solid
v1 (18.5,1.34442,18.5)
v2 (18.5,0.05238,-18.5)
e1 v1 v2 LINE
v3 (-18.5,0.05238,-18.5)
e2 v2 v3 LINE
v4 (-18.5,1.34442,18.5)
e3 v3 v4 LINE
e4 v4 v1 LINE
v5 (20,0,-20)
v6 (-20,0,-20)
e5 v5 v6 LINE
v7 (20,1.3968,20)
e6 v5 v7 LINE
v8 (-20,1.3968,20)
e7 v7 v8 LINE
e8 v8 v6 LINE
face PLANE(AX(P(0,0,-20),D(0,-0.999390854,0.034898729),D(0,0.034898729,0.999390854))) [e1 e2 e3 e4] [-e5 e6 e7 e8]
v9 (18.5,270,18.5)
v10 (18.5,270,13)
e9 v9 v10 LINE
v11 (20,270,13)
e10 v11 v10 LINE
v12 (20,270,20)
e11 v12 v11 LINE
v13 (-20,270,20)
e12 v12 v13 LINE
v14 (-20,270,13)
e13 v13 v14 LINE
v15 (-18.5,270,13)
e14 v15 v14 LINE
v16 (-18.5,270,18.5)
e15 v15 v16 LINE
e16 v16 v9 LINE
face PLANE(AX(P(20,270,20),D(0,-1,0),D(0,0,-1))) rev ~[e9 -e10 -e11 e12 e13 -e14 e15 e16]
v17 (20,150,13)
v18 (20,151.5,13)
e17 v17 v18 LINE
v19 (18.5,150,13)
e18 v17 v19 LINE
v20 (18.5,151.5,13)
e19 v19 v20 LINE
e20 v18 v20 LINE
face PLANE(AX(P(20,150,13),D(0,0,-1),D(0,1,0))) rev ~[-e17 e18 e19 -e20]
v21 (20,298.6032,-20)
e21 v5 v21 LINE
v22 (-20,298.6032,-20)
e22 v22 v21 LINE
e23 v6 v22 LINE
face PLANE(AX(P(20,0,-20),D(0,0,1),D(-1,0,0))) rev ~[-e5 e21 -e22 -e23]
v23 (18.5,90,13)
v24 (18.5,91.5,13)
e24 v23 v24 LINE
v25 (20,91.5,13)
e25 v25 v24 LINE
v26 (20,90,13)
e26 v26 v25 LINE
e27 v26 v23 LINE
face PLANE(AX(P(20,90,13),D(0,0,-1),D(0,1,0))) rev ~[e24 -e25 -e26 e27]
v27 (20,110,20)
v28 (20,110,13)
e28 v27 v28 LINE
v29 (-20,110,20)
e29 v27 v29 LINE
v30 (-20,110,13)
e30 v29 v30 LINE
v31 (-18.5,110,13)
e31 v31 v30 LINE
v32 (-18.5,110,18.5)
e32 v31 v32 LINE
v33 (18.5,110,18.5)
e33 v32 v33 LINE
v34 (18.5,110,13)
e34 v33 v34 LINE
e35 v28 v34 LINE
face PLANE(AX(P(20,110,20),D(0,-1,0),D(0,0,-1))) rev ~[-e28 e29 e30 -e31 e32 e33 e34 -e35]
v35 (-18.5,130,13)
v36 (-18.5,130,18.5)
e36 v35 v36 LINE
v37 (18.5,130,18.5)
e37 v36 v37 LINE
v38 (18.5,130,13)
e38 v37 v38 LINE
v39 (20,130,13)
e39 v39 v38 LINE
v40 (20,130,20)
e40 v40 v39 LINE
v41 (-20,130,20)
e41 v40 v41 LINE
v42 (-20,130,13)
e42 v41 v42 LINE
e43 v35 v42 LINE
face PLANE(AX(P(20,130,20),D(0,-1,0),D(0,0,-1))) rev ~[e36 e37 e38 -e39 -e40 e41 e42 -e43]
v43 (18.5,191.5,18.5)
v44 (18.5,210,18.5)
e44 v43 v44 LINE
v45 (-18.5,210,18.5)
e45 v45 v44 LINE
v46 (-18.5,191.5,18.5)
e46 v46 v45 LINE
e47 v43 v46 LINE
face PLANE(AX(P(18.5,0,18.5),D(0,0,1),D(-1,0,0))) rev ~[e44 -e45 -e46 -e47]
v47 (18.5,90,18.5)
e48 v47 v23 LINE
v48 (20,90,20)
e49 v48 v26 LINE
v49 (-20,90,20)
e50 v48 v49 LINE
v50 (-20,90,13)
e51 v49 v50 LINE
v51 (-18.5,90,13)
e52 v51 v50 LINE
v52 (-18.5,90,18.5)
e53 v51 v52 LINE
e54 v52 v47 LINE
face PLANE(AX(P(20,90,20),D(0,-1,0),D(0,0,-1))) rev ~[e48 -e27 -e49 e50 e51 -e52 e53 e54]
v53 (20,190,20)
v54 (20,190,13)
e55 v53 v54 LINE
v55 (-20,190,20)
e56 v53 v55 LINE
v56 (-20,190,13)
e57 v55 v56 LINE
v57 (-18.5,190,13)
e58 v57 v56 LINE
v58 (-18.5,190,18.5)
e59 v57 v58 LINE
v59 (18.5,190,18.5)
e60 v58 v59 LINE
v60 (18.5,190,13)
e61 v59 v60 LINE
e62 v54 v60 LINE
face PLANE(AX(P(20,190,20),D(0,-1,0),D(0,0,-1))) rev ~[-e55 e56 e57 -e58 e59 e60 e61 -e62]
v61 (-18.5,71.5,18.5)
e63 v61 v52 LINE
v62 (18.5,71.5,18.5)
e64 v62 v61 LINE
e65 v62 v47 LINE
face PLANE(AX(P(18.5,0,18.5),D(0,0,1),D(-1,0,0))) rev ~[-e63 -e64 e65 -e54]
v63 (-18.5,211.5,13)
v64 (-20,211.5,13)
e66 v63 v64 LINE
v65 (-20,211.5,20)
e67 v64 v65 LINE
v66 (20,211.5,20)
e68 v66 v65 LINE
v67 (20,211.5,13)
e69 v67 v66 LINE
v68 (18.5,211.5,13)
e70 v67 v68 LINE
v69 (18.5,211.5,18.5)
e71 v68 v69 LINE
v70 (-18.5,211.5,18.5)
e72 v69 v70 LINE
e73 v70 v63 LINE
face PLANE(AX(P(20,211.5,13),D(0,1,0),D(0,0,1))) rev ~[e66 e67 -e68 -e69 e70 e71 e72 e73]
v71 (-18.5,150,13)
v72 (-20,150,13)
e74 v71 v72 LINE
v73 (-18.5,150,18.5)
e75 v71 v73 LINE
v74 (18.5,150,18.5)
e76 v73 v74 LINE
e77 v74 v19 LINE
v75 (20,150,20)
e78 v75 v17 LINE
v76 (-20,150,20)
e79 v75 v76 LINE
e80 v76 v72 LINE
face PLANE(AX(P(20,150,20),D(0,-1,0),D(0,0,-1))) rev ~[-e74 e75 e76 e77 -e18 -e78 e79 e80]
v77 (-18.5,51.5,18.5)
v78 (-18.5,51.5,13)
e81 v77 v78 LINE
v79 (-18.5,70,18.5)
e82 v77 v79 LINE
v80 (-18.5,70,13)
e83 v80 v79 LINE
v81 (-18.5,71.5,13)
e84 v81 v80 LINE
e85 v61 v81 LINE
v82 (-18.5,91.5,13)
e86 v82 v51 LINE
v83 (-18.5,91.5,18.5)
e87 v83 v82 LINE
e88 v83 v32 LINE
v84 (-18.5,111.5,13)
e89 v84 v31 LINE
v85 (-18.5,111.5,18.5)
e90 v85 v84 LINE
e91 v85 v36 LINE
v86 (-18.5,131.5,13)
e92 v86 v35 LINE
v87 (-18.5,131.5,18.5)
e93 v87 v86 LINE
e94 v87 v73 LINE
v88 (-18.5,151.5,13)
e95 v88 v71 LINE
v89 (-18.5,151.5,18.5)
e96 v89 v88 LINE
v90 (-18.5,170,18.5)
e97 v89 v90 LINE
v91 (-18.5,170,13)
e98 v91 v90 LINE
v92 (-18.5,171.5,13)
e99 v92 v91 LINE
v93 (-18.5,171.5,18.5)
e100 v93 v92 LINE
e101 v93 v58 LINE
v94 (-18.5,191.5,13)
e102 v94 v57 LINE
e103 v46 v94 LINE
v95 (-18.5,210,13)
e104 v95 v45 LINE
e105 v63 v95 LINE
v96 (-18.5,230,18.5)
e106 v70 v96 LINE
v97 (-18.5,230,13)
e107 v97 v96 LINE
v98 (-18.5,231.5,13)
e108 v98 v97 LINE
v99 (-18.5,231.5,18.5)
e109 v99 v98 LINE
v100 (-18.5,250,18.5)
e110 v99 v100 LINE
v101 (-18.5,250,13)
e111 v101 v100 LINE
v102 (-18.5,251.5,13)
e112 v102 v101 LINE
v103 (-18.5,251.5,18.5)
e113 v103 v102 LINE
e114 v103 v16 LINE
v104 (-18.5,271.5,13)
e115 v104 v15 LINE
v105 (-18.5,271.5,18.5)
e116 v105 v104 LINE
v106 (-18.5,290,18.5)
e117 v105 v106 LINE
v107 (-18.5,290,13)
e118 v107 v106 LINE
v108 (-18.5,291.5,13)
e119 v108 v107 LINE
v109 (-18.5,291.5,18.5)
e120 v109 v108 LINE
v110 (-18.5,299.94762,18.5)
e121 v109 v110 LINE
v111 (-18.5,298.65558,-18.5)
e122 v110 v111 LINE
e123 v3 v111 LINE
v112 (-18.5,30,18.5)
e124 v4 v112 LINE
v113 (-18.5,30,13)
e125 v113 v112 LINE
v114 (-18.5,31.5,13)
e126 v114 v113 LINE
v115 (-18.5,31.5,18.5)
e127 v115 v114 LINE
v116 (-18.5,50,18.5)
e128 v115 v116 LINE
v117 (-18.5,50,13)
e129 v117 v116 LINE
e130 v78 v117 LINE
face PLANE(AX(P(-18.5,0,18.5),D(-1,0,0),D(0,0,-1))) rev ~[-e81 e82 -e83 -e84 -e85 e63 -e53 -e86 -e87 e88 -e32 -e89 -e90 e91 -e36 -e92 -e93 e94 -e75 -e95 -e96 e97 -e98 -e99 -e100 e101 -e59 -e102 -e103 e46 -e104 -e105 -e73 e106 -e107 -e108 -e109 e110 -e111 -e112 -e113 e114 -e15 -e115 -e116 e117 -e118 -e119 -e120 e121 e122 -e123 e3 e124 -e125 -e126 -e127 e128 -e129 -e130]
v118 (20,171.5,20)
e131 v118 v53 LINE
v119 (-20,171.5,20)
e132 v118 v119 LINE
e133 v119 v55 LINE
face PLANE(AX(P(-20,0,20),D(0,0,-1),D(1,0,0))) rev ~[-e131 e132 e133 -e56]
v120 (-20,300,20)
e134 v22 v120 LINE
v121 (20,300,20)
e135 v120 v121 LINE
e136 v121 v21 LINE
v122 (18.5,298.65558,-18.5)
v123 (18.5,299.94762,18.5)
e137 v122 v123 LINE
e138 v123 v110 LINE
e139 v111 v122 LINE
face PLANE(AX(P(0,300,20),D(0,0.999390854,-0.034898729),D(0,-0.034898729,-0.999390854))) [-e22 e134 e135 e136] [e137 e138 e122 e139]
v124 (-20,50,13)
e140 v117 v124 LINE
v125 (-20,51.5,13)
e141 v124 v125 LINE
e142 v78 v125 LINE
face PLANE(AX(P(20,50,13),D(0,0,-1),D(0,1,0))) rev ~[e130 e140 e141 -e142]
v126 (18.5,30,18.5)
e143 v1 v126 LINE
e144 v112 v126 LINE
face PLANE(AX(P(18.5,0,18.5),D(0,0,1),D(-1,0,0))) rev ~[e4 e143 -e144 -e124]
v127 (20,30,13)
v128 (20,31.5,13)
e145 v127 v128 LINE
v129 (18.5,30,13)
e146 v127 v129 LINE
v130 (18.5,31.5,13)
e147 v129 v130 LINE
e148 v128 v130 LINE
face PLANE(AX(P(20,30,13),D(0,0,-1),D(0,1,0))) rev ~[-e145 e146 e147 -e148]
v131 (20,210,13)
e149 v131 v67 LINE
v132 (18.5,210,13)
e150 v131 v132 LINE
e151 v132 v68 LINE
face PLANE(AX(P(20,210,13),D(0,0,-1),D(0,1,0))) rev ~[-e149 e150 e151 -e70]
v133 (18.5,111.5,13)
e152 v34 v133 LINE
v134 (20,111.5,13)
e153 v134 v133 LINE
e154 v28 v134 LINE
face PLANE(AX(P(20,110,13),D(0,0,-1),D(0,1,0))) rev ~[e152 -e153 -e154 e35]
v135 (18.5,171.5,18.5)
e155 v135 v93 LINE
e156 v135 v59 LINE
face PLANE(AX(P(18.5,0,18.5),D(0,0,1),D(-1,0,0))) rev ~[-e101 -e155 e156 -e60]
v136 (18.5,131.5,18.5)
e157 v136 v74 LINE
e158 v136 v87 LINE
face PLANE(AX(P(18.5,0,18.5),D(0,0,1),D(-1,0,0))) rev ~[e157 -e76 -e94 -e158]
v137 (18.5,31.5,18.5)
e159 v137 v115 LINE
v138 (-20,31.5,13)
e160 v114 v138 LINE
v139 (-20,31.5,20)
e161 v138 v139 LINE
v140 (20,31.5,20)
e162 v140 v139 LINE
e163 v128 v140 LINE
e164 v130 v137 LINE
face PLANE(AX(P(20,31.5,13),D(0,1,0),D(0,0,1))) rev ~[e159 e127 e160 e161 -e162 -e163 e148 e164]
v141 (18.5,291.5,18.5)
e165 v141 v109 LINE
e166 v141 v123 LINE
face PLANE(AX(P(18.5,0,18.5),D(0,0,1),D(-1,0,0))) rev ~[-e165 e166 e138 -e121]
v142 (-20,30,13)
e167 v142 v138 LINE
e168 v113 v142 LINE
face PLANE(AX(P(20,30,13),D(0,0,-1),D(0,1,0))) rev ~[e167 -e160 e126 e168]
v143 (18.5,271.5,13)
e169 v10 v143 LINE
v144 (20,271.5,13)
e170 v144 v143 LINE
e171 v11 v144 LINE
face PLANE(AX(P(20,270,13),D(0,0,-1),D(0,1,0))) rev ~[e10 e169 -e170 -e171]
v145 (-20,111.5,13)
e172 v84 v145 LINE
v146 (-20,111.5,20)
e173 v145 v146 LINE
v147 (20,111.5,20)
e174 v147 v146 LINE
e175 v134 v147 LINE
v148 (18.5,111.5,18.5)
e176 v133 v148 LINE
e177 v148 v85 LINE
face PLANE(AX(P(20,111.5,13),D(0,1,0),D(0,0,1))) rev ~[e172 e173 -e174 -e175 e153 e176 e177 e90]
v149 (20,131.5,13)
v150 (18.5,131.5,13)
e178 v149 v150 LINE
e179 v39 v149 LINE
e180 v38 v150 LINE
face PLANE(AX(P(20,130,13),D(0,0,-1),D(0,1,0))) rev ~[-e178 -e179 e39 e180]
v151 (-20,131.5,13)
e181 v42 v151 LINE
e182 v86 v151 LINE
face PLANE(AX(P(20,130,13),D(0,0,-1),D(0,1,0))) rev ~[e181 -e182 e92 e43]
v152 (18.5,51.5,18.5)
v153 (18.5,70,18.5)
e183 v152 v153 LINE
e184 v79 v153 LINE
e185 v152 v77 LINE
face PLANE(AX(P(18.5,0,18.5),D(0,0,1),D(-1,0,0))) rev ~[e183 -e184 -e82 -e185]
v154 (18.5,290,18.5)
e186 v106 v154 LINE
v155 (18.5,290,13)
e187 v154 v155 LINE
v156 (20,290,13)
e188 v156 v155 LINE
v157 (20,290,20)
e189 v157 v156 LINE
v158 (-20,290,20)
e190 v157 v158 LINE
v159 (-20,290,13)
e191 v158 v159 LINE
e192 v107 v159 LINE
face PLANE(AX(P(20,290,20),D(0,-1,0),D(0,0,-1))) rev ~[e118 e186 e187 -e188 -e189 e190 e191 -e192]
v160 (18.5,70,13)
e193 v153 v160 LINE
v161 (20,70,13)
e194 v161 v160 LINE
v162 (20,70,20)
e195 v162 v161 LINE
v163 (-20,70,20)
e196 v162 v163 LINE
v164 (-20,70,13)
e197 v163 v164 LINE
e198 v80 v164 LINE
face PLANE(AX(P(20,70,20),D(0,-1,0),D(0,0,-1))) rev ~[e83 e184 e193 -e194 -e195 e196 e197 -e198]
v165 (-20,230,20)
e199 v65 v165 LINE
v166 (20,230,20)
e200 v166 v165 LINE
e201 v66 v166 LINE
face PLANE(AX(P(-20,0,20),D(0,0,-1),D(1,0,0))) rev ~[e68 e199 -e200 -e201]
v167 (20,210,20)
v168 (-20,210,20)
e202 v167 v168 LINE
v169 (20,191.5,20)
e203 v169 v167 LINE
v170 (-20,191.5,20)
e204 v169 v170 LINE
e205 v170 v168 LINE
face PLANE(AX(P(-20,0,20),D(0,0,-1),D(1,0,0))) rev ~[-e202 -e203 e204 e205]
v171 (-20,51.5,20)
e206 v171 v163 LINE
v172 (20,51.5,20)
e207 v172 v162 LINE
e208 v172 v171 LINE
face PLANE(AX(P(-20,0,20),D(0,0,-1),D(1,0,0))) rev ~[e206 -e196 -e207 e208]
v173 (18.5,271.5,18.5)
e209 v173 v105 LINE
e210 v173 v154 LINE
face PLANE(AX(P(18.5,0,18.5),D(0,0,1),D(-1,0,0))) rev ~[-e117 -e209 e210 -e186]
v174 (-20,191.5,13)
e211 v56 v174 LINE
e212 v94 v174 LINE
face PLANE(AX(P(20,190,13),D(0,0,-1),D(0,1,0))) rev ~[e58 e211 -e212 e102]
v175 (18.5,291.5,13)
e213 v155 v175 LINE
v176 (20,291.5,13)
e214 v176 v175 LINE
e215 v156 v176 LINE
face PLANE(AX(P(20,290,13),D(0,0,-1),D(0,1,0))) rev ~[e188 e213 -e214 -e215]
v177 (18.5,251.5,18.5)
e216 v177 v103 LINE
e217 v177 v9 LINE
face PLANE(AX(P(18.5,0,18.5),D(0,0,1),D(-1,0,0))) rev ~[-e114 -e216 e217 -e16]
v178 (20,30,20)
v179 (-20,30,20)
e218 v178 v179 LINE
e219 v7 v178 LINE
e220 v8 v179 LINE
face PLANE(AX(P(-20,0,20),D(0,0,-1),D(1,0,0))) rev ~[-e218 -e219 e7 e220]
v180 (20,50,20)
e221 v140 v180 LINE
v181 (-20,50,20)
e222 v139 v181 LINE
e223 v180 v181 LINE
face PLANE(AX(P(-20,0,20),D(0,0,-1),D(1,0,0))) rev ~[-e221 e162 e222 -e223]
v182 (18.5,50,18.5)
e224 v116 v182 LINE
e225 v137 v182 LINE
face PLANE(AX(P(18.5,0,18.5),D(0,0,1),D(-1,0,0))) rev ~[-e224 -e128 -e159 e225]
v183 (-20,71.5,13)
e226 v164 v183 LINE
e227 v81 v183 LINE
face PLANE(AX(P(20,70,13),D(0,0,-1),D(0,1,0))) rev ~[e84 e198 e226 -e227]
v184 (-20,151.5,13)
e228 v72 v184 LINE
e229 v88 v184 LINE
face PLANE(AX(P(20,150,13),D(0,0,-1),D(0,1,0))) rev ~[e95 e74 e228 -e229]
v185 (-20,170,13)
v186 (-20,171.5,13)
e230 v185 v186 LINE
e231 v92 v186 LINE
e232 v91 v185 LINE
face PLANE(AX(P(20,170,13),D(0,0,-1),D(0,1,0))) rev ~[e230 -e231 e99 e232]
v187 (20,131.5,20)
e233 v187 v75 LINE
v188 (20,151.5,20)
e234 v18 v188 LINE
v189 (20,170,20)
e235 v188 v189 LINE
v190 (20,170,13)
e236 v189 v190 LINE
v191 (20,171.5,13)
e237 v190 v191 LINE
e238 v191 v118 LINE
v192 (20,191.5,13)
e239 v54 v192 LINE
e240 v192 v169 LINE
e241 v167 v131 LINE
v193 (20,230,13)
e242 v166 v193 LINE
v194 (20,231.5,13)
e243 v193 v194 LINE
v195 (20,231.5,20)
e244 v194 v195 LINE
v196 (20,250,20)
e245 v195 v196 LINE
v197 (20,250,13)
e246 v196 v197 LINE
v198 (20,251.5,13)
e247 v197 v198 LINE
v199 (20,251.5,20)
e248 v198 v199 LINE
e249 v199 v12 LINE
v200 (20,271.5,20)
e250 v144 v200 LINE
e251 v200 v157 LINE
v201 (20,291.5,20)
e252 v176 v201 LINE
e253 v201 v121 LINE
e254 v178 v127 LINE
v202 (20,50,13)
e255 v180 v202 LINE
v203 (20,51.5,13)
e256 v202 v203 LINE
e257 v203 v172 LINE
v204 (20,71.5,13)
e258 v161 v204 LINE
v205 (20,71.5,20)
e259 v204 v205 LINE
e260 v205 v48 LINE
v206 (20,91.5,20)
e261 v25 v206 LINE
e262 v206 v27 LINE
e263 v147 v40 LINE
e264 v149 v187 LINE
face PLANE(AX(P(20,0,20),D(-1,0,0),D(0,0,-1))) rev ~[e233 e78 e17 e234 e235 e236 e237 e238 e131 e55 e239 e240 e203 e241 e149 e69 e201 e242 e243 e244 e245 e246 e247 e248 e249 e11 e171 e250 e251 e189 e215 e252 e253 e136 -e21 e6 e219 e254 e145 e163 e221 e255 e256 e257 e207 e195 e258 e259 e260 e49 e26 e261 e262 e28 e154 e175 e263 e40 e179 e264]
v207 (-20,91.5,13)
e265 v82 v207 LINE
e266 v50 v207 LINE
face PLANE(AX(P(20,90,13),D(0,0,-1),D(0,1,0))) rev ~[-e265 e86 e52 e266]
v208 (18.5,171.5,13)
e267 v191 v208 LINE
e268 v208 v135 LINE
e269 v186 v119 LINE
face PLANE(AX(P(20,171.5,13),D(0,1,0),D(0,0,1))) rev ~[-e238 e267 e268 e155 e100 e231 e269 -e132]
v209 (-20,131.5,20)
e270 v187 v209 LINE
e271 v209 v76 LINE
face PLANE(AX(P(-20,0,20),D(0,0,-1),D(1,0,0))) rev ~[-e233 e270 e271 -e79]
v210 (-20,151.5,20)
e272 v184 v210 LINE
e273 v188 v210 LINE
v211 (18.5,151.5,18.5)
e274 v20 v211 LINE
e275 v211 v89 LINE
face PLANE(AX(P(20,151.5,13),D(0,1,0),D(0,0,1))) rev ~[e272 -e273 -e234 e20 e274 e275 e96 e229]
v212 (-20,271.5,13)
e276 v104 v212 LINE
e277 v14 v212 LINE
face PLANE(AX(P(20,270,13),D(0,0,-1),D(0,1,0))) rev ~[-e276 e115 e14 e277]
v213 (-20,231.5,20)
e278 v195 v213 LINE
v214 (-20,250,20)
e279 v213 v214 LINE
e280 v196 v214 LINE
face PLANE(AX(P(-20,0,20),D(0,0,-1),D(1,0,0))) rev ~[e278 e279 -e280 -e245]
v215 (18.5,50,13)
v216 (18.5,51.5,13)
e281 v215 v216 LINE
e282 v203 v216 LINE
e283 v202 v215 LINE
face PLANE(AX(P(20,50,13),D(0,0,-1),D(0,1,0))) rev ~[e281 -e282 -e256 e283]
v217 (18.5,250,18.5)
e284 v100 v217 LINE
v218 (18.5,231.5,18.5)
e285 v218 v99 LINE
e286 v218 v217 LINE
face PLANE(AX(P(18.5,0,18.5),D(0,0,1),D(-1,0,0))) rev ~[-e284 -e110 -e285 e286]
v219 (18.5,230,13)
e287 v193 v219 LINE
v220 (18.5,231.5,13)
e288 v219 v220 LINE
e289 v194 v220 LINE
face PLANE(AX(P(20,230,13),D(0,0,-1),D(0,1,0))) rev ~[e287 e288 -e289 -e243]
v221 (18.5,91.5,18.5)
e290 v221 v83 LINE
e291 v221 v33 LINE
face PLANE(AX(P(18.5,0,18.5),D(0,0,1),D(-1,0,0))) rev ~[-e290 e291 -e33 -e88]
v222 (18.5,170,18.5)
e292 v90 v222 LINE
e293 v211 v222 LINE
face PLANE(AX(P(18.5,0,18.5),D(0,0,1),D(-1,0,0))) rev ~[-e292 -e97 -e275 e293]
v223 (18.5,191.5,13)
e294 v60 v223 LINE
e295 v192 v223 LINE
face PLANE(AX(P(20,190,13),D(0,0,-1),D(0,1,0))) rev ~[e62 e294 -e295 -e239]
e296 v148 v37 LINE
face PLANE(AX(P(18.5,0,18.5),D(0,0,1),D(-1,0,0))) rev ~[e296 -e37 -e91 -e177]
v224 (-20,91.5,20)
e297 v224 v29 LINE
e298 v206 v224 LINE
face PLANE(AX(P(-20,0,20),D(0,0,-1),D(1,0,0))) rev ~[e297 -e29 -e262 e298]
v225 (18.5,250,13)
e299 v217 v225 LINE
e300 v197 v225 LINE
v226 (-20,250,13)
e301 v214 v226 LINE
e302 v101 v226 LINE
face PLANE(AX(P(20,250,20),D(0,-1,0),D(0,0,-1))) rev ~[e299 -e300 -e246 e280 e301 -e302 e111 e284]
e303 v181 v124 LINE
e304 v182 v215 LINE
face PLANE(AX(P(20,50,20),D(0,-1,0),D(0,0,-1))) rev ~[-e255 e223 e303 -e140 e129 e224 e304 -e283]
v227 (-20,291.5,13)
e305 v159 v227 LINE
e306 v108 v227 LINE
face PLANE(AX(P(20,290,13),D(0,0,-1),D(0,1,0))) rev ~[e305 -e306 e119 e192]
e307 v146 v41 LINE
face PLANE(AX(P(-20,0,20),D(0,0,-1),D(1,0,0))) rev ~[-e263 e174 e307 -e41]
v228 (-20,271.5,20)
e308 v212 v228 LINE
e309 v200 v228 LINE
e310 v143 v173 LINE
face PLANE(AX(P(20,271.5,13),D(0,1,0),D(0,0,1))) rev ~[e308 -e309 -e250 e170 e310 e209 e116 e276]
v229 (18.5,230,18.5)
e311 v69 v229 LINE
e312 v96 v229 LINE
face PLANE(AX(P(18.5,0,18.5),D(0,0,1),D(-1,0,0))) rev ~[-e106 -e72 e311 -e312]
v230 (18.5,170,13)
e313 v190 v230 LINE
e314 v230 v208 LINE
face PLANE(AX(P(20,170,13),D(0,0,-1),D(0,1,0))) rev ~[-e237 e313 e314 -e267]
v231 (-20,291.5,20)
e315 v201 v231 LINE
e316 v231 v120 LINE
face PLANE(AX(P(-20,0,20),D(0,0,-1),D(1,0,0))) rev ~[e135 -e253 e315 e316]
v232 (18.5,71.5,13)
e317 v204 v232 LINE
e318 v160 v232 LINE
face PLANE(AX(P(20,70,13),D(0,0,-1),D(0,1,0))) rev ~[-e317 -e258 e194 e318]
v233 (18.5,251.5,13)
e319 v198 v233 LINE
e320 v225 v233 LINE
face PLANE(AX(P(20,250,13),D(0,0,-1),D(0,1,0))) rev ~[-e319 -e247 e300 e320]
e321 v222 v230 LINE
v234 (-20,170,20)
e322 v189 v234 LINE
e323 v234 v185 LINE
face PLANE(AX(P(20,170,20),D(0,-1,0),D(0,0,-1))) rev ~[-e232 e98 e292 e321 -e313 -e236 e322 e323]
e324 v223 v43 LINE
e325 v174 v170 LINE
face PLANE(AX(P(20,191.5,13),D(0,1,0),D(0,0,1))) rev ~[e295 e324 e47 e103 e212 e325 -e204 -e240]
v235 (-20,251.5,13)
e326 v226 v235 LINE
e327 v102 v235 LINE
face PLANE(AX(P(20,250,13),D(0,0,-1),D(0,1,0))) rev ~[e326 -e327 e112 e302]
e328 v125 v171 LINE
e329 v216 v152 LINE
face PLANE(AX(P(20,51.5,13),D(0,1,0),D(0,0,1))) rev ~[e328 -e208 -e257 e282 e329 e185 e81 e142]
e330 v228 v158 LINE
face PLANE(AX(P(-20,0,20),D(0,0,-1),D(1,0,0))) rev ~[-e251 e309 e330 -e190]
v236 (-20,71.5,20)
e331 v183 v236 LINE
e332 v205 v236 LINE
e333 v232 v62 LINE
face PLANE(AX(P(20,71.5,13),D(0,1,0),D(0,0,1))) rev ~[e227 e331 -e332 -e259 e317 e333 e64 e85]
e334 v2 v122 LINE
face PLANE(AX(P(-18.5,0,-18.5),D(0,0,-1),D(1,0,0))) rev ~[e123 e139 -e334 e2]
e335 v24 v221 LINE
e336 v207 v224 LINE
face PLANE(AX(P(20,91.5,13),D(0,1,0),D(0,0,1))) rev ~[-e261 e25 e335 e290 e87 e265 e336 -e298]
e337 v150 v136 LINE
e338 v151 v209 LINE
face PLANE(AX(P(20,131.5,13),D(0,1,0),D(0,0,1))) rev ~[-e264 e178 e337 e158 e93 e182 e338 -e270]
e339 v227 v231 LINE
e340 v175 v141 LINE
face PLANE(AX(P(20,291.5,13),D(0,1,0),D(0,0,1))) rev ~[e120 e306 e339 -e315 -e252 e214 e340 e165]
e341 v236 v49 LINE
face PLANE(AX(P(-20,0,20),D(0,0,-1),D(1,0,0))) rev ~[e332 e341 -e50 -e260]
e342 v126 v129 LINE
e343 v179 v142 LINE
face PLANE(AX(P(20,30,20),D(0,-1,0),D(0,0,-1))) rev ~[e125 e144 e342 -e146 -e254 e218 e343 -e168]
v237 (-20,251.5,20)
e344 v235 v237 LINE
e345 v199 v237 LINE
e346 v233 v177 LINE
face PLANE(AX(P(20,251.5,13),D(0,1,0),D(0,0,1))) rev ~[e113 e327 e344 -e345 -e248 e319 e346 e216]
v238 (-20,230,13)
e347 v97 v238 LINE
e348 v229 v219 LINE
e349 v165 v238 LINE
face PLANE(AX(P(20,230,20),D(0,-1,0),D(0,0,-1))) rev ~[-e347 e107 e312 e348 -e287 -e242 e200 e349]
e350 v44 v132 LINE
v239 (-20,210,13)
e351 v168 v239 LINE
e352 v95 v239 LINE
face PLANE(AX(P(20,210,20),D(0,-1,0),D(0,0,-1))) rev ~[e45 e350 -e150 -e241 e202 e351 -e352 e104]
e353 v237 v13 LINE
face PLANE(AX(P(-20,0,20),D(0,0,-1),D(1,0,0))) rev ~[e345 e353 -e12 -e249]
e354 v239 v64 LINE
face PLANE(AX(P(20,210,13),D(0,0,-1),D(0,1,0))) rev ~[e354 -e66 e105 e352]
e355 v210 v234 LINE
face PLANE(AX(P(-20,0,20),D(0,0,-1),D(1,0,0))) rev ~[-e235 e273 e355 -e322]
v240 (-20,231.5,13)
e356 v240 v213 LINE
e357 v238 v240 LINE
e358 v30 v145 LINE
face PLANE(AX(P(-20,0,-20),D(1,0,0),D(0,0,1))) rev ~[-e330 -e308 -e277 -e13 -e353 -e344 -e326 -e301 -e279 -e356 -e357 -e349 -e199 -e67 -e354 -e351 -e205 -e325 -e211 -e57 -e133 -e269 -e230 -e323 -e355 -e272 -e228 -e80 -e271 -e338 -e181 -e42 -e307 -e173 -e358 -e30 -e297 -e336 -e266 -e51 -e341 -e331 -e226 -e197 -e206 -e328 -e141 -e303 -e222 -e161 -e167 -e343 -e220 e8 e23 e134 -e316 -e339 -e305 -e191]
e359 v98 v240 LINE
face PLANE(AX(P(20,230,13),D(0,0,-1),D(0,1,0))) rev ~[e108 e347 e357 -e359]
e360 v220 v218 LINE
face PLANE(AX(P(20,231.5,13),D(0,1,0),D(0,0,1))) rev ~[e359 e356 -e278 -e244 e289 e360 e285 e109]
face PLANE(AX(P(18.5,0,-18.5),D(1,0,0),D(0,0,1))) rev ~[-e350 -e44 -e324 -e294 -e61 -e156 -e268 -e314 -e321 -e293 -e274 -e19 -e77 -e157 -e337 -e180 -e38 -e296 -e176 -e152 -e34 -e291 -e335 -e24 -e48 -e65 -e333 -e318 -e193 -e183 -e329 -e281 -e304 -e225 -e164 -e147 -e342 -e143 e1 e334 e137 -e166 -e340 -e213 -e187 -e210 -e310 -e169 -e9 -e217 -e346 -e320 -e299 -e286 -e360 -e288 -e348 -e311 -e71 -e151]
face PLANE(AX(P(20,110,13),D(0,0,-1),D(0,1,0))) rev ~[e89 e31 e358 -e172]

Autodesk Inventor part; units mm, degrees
ref_plane "YZ Plane" through (0, 0, 0) normal (1, 0, 0) x (0, 1, 0)
ref_plane "XZ Plane" through (0, 0, 0) normal (0, 1, 0) x (-1, 0, 0)
ref_plane "XY Plane" through (0, 0, 0) normal (0, 0, 1) x (1, 0, 0)
sketch "Sketch1" plane through (0, 0, 0) normal (0, 1, 0) x (-1, 0, 0)
  line L0 (20, 20) -> (-20, 20)
  line L1 (-20, 20) -> (-20, -20)
  line L2 (-20, -20) -> (20, -20)
  line L3 (20, -20) -> (20, 20)
  line L4 (20, 20) -> (-20, -20) construction
  line L5 (-20, 20) -> (20, -20) construction
  line L6 (-18.5, 18.5) -> (18.5, 18.5)
  line L7 (18.5, 18.5) -> (18.5, -18.5)
  line L8 (18.5, -18.5) -> (-18.5, -18.5)
  line L9 (-18.5, -18.5) -> (-18.5, 18.5)
  point P0 (0, 0)
  dimension "d7" = 40
  dimension "d8" = 40
  dimension "d9" = 1.5
extrude "Extrusion1" add sketch "Sketch1" along normal blind 300
sketch "Sketch2" plane through (20, 0, 20) normal (1, 0, 0) x (0, 0, -1)
  line L0 (0, 0) -> (0, 300) projected
  line L1 (0, 30) -> (7, 30)
  line L2 (7, 30) -> (7, 31.5)
  line L3 (7, 31.5) -> (0, 31.5)
  line L4 (0, 31.5) -> (0, 30)
  point P0 (20, 0)
  point P1 (0, 31.5)
  dimension "d10" = 7
  dimension "d11" = 1.5
  dimension "d17" = 30
extrude "Extrusion2" cut sketch "Sketch2" against normal through all
pattern_linear "Rectangular Pattern1" count 49 spacing 20 along (0, 1, 0) of "Extrusion2"
sketch "Sketch5" plane through (0, 0, 0) normal (1, 0, 0) x (0, 1, 0)
  line L0 (0, 20) -> (0, -20) projected
  line L1 (0, 20) -> (30, 20) projected
  line L2 (0, -20) -> (1.3968, 20)
  line L3 (300, -20) -> (300, 20) projected
  line L4 (300, 20) -> (298.6032, -20)
  line L5 (0, -20) -> (300, -20) projected
  point P0 (0, 0)
  dimension "d18" = 2
  dimension "d21" = 2
extrude "Extrusion3" cut sketch "Sketch5" along normal through all both and the other way through all
equation "\"d1\" = BEAM_4_lenth"
equation "\"d18\" = BEAM_4_angle"
equation "\"d21\" = d18"
equation "\"BEAM_4_lenth\" = 300"
equation "\"BEAM_4_angle\" = 2deg"
properties part number "DSB-504 beam 4" material "Stainless Steel"
